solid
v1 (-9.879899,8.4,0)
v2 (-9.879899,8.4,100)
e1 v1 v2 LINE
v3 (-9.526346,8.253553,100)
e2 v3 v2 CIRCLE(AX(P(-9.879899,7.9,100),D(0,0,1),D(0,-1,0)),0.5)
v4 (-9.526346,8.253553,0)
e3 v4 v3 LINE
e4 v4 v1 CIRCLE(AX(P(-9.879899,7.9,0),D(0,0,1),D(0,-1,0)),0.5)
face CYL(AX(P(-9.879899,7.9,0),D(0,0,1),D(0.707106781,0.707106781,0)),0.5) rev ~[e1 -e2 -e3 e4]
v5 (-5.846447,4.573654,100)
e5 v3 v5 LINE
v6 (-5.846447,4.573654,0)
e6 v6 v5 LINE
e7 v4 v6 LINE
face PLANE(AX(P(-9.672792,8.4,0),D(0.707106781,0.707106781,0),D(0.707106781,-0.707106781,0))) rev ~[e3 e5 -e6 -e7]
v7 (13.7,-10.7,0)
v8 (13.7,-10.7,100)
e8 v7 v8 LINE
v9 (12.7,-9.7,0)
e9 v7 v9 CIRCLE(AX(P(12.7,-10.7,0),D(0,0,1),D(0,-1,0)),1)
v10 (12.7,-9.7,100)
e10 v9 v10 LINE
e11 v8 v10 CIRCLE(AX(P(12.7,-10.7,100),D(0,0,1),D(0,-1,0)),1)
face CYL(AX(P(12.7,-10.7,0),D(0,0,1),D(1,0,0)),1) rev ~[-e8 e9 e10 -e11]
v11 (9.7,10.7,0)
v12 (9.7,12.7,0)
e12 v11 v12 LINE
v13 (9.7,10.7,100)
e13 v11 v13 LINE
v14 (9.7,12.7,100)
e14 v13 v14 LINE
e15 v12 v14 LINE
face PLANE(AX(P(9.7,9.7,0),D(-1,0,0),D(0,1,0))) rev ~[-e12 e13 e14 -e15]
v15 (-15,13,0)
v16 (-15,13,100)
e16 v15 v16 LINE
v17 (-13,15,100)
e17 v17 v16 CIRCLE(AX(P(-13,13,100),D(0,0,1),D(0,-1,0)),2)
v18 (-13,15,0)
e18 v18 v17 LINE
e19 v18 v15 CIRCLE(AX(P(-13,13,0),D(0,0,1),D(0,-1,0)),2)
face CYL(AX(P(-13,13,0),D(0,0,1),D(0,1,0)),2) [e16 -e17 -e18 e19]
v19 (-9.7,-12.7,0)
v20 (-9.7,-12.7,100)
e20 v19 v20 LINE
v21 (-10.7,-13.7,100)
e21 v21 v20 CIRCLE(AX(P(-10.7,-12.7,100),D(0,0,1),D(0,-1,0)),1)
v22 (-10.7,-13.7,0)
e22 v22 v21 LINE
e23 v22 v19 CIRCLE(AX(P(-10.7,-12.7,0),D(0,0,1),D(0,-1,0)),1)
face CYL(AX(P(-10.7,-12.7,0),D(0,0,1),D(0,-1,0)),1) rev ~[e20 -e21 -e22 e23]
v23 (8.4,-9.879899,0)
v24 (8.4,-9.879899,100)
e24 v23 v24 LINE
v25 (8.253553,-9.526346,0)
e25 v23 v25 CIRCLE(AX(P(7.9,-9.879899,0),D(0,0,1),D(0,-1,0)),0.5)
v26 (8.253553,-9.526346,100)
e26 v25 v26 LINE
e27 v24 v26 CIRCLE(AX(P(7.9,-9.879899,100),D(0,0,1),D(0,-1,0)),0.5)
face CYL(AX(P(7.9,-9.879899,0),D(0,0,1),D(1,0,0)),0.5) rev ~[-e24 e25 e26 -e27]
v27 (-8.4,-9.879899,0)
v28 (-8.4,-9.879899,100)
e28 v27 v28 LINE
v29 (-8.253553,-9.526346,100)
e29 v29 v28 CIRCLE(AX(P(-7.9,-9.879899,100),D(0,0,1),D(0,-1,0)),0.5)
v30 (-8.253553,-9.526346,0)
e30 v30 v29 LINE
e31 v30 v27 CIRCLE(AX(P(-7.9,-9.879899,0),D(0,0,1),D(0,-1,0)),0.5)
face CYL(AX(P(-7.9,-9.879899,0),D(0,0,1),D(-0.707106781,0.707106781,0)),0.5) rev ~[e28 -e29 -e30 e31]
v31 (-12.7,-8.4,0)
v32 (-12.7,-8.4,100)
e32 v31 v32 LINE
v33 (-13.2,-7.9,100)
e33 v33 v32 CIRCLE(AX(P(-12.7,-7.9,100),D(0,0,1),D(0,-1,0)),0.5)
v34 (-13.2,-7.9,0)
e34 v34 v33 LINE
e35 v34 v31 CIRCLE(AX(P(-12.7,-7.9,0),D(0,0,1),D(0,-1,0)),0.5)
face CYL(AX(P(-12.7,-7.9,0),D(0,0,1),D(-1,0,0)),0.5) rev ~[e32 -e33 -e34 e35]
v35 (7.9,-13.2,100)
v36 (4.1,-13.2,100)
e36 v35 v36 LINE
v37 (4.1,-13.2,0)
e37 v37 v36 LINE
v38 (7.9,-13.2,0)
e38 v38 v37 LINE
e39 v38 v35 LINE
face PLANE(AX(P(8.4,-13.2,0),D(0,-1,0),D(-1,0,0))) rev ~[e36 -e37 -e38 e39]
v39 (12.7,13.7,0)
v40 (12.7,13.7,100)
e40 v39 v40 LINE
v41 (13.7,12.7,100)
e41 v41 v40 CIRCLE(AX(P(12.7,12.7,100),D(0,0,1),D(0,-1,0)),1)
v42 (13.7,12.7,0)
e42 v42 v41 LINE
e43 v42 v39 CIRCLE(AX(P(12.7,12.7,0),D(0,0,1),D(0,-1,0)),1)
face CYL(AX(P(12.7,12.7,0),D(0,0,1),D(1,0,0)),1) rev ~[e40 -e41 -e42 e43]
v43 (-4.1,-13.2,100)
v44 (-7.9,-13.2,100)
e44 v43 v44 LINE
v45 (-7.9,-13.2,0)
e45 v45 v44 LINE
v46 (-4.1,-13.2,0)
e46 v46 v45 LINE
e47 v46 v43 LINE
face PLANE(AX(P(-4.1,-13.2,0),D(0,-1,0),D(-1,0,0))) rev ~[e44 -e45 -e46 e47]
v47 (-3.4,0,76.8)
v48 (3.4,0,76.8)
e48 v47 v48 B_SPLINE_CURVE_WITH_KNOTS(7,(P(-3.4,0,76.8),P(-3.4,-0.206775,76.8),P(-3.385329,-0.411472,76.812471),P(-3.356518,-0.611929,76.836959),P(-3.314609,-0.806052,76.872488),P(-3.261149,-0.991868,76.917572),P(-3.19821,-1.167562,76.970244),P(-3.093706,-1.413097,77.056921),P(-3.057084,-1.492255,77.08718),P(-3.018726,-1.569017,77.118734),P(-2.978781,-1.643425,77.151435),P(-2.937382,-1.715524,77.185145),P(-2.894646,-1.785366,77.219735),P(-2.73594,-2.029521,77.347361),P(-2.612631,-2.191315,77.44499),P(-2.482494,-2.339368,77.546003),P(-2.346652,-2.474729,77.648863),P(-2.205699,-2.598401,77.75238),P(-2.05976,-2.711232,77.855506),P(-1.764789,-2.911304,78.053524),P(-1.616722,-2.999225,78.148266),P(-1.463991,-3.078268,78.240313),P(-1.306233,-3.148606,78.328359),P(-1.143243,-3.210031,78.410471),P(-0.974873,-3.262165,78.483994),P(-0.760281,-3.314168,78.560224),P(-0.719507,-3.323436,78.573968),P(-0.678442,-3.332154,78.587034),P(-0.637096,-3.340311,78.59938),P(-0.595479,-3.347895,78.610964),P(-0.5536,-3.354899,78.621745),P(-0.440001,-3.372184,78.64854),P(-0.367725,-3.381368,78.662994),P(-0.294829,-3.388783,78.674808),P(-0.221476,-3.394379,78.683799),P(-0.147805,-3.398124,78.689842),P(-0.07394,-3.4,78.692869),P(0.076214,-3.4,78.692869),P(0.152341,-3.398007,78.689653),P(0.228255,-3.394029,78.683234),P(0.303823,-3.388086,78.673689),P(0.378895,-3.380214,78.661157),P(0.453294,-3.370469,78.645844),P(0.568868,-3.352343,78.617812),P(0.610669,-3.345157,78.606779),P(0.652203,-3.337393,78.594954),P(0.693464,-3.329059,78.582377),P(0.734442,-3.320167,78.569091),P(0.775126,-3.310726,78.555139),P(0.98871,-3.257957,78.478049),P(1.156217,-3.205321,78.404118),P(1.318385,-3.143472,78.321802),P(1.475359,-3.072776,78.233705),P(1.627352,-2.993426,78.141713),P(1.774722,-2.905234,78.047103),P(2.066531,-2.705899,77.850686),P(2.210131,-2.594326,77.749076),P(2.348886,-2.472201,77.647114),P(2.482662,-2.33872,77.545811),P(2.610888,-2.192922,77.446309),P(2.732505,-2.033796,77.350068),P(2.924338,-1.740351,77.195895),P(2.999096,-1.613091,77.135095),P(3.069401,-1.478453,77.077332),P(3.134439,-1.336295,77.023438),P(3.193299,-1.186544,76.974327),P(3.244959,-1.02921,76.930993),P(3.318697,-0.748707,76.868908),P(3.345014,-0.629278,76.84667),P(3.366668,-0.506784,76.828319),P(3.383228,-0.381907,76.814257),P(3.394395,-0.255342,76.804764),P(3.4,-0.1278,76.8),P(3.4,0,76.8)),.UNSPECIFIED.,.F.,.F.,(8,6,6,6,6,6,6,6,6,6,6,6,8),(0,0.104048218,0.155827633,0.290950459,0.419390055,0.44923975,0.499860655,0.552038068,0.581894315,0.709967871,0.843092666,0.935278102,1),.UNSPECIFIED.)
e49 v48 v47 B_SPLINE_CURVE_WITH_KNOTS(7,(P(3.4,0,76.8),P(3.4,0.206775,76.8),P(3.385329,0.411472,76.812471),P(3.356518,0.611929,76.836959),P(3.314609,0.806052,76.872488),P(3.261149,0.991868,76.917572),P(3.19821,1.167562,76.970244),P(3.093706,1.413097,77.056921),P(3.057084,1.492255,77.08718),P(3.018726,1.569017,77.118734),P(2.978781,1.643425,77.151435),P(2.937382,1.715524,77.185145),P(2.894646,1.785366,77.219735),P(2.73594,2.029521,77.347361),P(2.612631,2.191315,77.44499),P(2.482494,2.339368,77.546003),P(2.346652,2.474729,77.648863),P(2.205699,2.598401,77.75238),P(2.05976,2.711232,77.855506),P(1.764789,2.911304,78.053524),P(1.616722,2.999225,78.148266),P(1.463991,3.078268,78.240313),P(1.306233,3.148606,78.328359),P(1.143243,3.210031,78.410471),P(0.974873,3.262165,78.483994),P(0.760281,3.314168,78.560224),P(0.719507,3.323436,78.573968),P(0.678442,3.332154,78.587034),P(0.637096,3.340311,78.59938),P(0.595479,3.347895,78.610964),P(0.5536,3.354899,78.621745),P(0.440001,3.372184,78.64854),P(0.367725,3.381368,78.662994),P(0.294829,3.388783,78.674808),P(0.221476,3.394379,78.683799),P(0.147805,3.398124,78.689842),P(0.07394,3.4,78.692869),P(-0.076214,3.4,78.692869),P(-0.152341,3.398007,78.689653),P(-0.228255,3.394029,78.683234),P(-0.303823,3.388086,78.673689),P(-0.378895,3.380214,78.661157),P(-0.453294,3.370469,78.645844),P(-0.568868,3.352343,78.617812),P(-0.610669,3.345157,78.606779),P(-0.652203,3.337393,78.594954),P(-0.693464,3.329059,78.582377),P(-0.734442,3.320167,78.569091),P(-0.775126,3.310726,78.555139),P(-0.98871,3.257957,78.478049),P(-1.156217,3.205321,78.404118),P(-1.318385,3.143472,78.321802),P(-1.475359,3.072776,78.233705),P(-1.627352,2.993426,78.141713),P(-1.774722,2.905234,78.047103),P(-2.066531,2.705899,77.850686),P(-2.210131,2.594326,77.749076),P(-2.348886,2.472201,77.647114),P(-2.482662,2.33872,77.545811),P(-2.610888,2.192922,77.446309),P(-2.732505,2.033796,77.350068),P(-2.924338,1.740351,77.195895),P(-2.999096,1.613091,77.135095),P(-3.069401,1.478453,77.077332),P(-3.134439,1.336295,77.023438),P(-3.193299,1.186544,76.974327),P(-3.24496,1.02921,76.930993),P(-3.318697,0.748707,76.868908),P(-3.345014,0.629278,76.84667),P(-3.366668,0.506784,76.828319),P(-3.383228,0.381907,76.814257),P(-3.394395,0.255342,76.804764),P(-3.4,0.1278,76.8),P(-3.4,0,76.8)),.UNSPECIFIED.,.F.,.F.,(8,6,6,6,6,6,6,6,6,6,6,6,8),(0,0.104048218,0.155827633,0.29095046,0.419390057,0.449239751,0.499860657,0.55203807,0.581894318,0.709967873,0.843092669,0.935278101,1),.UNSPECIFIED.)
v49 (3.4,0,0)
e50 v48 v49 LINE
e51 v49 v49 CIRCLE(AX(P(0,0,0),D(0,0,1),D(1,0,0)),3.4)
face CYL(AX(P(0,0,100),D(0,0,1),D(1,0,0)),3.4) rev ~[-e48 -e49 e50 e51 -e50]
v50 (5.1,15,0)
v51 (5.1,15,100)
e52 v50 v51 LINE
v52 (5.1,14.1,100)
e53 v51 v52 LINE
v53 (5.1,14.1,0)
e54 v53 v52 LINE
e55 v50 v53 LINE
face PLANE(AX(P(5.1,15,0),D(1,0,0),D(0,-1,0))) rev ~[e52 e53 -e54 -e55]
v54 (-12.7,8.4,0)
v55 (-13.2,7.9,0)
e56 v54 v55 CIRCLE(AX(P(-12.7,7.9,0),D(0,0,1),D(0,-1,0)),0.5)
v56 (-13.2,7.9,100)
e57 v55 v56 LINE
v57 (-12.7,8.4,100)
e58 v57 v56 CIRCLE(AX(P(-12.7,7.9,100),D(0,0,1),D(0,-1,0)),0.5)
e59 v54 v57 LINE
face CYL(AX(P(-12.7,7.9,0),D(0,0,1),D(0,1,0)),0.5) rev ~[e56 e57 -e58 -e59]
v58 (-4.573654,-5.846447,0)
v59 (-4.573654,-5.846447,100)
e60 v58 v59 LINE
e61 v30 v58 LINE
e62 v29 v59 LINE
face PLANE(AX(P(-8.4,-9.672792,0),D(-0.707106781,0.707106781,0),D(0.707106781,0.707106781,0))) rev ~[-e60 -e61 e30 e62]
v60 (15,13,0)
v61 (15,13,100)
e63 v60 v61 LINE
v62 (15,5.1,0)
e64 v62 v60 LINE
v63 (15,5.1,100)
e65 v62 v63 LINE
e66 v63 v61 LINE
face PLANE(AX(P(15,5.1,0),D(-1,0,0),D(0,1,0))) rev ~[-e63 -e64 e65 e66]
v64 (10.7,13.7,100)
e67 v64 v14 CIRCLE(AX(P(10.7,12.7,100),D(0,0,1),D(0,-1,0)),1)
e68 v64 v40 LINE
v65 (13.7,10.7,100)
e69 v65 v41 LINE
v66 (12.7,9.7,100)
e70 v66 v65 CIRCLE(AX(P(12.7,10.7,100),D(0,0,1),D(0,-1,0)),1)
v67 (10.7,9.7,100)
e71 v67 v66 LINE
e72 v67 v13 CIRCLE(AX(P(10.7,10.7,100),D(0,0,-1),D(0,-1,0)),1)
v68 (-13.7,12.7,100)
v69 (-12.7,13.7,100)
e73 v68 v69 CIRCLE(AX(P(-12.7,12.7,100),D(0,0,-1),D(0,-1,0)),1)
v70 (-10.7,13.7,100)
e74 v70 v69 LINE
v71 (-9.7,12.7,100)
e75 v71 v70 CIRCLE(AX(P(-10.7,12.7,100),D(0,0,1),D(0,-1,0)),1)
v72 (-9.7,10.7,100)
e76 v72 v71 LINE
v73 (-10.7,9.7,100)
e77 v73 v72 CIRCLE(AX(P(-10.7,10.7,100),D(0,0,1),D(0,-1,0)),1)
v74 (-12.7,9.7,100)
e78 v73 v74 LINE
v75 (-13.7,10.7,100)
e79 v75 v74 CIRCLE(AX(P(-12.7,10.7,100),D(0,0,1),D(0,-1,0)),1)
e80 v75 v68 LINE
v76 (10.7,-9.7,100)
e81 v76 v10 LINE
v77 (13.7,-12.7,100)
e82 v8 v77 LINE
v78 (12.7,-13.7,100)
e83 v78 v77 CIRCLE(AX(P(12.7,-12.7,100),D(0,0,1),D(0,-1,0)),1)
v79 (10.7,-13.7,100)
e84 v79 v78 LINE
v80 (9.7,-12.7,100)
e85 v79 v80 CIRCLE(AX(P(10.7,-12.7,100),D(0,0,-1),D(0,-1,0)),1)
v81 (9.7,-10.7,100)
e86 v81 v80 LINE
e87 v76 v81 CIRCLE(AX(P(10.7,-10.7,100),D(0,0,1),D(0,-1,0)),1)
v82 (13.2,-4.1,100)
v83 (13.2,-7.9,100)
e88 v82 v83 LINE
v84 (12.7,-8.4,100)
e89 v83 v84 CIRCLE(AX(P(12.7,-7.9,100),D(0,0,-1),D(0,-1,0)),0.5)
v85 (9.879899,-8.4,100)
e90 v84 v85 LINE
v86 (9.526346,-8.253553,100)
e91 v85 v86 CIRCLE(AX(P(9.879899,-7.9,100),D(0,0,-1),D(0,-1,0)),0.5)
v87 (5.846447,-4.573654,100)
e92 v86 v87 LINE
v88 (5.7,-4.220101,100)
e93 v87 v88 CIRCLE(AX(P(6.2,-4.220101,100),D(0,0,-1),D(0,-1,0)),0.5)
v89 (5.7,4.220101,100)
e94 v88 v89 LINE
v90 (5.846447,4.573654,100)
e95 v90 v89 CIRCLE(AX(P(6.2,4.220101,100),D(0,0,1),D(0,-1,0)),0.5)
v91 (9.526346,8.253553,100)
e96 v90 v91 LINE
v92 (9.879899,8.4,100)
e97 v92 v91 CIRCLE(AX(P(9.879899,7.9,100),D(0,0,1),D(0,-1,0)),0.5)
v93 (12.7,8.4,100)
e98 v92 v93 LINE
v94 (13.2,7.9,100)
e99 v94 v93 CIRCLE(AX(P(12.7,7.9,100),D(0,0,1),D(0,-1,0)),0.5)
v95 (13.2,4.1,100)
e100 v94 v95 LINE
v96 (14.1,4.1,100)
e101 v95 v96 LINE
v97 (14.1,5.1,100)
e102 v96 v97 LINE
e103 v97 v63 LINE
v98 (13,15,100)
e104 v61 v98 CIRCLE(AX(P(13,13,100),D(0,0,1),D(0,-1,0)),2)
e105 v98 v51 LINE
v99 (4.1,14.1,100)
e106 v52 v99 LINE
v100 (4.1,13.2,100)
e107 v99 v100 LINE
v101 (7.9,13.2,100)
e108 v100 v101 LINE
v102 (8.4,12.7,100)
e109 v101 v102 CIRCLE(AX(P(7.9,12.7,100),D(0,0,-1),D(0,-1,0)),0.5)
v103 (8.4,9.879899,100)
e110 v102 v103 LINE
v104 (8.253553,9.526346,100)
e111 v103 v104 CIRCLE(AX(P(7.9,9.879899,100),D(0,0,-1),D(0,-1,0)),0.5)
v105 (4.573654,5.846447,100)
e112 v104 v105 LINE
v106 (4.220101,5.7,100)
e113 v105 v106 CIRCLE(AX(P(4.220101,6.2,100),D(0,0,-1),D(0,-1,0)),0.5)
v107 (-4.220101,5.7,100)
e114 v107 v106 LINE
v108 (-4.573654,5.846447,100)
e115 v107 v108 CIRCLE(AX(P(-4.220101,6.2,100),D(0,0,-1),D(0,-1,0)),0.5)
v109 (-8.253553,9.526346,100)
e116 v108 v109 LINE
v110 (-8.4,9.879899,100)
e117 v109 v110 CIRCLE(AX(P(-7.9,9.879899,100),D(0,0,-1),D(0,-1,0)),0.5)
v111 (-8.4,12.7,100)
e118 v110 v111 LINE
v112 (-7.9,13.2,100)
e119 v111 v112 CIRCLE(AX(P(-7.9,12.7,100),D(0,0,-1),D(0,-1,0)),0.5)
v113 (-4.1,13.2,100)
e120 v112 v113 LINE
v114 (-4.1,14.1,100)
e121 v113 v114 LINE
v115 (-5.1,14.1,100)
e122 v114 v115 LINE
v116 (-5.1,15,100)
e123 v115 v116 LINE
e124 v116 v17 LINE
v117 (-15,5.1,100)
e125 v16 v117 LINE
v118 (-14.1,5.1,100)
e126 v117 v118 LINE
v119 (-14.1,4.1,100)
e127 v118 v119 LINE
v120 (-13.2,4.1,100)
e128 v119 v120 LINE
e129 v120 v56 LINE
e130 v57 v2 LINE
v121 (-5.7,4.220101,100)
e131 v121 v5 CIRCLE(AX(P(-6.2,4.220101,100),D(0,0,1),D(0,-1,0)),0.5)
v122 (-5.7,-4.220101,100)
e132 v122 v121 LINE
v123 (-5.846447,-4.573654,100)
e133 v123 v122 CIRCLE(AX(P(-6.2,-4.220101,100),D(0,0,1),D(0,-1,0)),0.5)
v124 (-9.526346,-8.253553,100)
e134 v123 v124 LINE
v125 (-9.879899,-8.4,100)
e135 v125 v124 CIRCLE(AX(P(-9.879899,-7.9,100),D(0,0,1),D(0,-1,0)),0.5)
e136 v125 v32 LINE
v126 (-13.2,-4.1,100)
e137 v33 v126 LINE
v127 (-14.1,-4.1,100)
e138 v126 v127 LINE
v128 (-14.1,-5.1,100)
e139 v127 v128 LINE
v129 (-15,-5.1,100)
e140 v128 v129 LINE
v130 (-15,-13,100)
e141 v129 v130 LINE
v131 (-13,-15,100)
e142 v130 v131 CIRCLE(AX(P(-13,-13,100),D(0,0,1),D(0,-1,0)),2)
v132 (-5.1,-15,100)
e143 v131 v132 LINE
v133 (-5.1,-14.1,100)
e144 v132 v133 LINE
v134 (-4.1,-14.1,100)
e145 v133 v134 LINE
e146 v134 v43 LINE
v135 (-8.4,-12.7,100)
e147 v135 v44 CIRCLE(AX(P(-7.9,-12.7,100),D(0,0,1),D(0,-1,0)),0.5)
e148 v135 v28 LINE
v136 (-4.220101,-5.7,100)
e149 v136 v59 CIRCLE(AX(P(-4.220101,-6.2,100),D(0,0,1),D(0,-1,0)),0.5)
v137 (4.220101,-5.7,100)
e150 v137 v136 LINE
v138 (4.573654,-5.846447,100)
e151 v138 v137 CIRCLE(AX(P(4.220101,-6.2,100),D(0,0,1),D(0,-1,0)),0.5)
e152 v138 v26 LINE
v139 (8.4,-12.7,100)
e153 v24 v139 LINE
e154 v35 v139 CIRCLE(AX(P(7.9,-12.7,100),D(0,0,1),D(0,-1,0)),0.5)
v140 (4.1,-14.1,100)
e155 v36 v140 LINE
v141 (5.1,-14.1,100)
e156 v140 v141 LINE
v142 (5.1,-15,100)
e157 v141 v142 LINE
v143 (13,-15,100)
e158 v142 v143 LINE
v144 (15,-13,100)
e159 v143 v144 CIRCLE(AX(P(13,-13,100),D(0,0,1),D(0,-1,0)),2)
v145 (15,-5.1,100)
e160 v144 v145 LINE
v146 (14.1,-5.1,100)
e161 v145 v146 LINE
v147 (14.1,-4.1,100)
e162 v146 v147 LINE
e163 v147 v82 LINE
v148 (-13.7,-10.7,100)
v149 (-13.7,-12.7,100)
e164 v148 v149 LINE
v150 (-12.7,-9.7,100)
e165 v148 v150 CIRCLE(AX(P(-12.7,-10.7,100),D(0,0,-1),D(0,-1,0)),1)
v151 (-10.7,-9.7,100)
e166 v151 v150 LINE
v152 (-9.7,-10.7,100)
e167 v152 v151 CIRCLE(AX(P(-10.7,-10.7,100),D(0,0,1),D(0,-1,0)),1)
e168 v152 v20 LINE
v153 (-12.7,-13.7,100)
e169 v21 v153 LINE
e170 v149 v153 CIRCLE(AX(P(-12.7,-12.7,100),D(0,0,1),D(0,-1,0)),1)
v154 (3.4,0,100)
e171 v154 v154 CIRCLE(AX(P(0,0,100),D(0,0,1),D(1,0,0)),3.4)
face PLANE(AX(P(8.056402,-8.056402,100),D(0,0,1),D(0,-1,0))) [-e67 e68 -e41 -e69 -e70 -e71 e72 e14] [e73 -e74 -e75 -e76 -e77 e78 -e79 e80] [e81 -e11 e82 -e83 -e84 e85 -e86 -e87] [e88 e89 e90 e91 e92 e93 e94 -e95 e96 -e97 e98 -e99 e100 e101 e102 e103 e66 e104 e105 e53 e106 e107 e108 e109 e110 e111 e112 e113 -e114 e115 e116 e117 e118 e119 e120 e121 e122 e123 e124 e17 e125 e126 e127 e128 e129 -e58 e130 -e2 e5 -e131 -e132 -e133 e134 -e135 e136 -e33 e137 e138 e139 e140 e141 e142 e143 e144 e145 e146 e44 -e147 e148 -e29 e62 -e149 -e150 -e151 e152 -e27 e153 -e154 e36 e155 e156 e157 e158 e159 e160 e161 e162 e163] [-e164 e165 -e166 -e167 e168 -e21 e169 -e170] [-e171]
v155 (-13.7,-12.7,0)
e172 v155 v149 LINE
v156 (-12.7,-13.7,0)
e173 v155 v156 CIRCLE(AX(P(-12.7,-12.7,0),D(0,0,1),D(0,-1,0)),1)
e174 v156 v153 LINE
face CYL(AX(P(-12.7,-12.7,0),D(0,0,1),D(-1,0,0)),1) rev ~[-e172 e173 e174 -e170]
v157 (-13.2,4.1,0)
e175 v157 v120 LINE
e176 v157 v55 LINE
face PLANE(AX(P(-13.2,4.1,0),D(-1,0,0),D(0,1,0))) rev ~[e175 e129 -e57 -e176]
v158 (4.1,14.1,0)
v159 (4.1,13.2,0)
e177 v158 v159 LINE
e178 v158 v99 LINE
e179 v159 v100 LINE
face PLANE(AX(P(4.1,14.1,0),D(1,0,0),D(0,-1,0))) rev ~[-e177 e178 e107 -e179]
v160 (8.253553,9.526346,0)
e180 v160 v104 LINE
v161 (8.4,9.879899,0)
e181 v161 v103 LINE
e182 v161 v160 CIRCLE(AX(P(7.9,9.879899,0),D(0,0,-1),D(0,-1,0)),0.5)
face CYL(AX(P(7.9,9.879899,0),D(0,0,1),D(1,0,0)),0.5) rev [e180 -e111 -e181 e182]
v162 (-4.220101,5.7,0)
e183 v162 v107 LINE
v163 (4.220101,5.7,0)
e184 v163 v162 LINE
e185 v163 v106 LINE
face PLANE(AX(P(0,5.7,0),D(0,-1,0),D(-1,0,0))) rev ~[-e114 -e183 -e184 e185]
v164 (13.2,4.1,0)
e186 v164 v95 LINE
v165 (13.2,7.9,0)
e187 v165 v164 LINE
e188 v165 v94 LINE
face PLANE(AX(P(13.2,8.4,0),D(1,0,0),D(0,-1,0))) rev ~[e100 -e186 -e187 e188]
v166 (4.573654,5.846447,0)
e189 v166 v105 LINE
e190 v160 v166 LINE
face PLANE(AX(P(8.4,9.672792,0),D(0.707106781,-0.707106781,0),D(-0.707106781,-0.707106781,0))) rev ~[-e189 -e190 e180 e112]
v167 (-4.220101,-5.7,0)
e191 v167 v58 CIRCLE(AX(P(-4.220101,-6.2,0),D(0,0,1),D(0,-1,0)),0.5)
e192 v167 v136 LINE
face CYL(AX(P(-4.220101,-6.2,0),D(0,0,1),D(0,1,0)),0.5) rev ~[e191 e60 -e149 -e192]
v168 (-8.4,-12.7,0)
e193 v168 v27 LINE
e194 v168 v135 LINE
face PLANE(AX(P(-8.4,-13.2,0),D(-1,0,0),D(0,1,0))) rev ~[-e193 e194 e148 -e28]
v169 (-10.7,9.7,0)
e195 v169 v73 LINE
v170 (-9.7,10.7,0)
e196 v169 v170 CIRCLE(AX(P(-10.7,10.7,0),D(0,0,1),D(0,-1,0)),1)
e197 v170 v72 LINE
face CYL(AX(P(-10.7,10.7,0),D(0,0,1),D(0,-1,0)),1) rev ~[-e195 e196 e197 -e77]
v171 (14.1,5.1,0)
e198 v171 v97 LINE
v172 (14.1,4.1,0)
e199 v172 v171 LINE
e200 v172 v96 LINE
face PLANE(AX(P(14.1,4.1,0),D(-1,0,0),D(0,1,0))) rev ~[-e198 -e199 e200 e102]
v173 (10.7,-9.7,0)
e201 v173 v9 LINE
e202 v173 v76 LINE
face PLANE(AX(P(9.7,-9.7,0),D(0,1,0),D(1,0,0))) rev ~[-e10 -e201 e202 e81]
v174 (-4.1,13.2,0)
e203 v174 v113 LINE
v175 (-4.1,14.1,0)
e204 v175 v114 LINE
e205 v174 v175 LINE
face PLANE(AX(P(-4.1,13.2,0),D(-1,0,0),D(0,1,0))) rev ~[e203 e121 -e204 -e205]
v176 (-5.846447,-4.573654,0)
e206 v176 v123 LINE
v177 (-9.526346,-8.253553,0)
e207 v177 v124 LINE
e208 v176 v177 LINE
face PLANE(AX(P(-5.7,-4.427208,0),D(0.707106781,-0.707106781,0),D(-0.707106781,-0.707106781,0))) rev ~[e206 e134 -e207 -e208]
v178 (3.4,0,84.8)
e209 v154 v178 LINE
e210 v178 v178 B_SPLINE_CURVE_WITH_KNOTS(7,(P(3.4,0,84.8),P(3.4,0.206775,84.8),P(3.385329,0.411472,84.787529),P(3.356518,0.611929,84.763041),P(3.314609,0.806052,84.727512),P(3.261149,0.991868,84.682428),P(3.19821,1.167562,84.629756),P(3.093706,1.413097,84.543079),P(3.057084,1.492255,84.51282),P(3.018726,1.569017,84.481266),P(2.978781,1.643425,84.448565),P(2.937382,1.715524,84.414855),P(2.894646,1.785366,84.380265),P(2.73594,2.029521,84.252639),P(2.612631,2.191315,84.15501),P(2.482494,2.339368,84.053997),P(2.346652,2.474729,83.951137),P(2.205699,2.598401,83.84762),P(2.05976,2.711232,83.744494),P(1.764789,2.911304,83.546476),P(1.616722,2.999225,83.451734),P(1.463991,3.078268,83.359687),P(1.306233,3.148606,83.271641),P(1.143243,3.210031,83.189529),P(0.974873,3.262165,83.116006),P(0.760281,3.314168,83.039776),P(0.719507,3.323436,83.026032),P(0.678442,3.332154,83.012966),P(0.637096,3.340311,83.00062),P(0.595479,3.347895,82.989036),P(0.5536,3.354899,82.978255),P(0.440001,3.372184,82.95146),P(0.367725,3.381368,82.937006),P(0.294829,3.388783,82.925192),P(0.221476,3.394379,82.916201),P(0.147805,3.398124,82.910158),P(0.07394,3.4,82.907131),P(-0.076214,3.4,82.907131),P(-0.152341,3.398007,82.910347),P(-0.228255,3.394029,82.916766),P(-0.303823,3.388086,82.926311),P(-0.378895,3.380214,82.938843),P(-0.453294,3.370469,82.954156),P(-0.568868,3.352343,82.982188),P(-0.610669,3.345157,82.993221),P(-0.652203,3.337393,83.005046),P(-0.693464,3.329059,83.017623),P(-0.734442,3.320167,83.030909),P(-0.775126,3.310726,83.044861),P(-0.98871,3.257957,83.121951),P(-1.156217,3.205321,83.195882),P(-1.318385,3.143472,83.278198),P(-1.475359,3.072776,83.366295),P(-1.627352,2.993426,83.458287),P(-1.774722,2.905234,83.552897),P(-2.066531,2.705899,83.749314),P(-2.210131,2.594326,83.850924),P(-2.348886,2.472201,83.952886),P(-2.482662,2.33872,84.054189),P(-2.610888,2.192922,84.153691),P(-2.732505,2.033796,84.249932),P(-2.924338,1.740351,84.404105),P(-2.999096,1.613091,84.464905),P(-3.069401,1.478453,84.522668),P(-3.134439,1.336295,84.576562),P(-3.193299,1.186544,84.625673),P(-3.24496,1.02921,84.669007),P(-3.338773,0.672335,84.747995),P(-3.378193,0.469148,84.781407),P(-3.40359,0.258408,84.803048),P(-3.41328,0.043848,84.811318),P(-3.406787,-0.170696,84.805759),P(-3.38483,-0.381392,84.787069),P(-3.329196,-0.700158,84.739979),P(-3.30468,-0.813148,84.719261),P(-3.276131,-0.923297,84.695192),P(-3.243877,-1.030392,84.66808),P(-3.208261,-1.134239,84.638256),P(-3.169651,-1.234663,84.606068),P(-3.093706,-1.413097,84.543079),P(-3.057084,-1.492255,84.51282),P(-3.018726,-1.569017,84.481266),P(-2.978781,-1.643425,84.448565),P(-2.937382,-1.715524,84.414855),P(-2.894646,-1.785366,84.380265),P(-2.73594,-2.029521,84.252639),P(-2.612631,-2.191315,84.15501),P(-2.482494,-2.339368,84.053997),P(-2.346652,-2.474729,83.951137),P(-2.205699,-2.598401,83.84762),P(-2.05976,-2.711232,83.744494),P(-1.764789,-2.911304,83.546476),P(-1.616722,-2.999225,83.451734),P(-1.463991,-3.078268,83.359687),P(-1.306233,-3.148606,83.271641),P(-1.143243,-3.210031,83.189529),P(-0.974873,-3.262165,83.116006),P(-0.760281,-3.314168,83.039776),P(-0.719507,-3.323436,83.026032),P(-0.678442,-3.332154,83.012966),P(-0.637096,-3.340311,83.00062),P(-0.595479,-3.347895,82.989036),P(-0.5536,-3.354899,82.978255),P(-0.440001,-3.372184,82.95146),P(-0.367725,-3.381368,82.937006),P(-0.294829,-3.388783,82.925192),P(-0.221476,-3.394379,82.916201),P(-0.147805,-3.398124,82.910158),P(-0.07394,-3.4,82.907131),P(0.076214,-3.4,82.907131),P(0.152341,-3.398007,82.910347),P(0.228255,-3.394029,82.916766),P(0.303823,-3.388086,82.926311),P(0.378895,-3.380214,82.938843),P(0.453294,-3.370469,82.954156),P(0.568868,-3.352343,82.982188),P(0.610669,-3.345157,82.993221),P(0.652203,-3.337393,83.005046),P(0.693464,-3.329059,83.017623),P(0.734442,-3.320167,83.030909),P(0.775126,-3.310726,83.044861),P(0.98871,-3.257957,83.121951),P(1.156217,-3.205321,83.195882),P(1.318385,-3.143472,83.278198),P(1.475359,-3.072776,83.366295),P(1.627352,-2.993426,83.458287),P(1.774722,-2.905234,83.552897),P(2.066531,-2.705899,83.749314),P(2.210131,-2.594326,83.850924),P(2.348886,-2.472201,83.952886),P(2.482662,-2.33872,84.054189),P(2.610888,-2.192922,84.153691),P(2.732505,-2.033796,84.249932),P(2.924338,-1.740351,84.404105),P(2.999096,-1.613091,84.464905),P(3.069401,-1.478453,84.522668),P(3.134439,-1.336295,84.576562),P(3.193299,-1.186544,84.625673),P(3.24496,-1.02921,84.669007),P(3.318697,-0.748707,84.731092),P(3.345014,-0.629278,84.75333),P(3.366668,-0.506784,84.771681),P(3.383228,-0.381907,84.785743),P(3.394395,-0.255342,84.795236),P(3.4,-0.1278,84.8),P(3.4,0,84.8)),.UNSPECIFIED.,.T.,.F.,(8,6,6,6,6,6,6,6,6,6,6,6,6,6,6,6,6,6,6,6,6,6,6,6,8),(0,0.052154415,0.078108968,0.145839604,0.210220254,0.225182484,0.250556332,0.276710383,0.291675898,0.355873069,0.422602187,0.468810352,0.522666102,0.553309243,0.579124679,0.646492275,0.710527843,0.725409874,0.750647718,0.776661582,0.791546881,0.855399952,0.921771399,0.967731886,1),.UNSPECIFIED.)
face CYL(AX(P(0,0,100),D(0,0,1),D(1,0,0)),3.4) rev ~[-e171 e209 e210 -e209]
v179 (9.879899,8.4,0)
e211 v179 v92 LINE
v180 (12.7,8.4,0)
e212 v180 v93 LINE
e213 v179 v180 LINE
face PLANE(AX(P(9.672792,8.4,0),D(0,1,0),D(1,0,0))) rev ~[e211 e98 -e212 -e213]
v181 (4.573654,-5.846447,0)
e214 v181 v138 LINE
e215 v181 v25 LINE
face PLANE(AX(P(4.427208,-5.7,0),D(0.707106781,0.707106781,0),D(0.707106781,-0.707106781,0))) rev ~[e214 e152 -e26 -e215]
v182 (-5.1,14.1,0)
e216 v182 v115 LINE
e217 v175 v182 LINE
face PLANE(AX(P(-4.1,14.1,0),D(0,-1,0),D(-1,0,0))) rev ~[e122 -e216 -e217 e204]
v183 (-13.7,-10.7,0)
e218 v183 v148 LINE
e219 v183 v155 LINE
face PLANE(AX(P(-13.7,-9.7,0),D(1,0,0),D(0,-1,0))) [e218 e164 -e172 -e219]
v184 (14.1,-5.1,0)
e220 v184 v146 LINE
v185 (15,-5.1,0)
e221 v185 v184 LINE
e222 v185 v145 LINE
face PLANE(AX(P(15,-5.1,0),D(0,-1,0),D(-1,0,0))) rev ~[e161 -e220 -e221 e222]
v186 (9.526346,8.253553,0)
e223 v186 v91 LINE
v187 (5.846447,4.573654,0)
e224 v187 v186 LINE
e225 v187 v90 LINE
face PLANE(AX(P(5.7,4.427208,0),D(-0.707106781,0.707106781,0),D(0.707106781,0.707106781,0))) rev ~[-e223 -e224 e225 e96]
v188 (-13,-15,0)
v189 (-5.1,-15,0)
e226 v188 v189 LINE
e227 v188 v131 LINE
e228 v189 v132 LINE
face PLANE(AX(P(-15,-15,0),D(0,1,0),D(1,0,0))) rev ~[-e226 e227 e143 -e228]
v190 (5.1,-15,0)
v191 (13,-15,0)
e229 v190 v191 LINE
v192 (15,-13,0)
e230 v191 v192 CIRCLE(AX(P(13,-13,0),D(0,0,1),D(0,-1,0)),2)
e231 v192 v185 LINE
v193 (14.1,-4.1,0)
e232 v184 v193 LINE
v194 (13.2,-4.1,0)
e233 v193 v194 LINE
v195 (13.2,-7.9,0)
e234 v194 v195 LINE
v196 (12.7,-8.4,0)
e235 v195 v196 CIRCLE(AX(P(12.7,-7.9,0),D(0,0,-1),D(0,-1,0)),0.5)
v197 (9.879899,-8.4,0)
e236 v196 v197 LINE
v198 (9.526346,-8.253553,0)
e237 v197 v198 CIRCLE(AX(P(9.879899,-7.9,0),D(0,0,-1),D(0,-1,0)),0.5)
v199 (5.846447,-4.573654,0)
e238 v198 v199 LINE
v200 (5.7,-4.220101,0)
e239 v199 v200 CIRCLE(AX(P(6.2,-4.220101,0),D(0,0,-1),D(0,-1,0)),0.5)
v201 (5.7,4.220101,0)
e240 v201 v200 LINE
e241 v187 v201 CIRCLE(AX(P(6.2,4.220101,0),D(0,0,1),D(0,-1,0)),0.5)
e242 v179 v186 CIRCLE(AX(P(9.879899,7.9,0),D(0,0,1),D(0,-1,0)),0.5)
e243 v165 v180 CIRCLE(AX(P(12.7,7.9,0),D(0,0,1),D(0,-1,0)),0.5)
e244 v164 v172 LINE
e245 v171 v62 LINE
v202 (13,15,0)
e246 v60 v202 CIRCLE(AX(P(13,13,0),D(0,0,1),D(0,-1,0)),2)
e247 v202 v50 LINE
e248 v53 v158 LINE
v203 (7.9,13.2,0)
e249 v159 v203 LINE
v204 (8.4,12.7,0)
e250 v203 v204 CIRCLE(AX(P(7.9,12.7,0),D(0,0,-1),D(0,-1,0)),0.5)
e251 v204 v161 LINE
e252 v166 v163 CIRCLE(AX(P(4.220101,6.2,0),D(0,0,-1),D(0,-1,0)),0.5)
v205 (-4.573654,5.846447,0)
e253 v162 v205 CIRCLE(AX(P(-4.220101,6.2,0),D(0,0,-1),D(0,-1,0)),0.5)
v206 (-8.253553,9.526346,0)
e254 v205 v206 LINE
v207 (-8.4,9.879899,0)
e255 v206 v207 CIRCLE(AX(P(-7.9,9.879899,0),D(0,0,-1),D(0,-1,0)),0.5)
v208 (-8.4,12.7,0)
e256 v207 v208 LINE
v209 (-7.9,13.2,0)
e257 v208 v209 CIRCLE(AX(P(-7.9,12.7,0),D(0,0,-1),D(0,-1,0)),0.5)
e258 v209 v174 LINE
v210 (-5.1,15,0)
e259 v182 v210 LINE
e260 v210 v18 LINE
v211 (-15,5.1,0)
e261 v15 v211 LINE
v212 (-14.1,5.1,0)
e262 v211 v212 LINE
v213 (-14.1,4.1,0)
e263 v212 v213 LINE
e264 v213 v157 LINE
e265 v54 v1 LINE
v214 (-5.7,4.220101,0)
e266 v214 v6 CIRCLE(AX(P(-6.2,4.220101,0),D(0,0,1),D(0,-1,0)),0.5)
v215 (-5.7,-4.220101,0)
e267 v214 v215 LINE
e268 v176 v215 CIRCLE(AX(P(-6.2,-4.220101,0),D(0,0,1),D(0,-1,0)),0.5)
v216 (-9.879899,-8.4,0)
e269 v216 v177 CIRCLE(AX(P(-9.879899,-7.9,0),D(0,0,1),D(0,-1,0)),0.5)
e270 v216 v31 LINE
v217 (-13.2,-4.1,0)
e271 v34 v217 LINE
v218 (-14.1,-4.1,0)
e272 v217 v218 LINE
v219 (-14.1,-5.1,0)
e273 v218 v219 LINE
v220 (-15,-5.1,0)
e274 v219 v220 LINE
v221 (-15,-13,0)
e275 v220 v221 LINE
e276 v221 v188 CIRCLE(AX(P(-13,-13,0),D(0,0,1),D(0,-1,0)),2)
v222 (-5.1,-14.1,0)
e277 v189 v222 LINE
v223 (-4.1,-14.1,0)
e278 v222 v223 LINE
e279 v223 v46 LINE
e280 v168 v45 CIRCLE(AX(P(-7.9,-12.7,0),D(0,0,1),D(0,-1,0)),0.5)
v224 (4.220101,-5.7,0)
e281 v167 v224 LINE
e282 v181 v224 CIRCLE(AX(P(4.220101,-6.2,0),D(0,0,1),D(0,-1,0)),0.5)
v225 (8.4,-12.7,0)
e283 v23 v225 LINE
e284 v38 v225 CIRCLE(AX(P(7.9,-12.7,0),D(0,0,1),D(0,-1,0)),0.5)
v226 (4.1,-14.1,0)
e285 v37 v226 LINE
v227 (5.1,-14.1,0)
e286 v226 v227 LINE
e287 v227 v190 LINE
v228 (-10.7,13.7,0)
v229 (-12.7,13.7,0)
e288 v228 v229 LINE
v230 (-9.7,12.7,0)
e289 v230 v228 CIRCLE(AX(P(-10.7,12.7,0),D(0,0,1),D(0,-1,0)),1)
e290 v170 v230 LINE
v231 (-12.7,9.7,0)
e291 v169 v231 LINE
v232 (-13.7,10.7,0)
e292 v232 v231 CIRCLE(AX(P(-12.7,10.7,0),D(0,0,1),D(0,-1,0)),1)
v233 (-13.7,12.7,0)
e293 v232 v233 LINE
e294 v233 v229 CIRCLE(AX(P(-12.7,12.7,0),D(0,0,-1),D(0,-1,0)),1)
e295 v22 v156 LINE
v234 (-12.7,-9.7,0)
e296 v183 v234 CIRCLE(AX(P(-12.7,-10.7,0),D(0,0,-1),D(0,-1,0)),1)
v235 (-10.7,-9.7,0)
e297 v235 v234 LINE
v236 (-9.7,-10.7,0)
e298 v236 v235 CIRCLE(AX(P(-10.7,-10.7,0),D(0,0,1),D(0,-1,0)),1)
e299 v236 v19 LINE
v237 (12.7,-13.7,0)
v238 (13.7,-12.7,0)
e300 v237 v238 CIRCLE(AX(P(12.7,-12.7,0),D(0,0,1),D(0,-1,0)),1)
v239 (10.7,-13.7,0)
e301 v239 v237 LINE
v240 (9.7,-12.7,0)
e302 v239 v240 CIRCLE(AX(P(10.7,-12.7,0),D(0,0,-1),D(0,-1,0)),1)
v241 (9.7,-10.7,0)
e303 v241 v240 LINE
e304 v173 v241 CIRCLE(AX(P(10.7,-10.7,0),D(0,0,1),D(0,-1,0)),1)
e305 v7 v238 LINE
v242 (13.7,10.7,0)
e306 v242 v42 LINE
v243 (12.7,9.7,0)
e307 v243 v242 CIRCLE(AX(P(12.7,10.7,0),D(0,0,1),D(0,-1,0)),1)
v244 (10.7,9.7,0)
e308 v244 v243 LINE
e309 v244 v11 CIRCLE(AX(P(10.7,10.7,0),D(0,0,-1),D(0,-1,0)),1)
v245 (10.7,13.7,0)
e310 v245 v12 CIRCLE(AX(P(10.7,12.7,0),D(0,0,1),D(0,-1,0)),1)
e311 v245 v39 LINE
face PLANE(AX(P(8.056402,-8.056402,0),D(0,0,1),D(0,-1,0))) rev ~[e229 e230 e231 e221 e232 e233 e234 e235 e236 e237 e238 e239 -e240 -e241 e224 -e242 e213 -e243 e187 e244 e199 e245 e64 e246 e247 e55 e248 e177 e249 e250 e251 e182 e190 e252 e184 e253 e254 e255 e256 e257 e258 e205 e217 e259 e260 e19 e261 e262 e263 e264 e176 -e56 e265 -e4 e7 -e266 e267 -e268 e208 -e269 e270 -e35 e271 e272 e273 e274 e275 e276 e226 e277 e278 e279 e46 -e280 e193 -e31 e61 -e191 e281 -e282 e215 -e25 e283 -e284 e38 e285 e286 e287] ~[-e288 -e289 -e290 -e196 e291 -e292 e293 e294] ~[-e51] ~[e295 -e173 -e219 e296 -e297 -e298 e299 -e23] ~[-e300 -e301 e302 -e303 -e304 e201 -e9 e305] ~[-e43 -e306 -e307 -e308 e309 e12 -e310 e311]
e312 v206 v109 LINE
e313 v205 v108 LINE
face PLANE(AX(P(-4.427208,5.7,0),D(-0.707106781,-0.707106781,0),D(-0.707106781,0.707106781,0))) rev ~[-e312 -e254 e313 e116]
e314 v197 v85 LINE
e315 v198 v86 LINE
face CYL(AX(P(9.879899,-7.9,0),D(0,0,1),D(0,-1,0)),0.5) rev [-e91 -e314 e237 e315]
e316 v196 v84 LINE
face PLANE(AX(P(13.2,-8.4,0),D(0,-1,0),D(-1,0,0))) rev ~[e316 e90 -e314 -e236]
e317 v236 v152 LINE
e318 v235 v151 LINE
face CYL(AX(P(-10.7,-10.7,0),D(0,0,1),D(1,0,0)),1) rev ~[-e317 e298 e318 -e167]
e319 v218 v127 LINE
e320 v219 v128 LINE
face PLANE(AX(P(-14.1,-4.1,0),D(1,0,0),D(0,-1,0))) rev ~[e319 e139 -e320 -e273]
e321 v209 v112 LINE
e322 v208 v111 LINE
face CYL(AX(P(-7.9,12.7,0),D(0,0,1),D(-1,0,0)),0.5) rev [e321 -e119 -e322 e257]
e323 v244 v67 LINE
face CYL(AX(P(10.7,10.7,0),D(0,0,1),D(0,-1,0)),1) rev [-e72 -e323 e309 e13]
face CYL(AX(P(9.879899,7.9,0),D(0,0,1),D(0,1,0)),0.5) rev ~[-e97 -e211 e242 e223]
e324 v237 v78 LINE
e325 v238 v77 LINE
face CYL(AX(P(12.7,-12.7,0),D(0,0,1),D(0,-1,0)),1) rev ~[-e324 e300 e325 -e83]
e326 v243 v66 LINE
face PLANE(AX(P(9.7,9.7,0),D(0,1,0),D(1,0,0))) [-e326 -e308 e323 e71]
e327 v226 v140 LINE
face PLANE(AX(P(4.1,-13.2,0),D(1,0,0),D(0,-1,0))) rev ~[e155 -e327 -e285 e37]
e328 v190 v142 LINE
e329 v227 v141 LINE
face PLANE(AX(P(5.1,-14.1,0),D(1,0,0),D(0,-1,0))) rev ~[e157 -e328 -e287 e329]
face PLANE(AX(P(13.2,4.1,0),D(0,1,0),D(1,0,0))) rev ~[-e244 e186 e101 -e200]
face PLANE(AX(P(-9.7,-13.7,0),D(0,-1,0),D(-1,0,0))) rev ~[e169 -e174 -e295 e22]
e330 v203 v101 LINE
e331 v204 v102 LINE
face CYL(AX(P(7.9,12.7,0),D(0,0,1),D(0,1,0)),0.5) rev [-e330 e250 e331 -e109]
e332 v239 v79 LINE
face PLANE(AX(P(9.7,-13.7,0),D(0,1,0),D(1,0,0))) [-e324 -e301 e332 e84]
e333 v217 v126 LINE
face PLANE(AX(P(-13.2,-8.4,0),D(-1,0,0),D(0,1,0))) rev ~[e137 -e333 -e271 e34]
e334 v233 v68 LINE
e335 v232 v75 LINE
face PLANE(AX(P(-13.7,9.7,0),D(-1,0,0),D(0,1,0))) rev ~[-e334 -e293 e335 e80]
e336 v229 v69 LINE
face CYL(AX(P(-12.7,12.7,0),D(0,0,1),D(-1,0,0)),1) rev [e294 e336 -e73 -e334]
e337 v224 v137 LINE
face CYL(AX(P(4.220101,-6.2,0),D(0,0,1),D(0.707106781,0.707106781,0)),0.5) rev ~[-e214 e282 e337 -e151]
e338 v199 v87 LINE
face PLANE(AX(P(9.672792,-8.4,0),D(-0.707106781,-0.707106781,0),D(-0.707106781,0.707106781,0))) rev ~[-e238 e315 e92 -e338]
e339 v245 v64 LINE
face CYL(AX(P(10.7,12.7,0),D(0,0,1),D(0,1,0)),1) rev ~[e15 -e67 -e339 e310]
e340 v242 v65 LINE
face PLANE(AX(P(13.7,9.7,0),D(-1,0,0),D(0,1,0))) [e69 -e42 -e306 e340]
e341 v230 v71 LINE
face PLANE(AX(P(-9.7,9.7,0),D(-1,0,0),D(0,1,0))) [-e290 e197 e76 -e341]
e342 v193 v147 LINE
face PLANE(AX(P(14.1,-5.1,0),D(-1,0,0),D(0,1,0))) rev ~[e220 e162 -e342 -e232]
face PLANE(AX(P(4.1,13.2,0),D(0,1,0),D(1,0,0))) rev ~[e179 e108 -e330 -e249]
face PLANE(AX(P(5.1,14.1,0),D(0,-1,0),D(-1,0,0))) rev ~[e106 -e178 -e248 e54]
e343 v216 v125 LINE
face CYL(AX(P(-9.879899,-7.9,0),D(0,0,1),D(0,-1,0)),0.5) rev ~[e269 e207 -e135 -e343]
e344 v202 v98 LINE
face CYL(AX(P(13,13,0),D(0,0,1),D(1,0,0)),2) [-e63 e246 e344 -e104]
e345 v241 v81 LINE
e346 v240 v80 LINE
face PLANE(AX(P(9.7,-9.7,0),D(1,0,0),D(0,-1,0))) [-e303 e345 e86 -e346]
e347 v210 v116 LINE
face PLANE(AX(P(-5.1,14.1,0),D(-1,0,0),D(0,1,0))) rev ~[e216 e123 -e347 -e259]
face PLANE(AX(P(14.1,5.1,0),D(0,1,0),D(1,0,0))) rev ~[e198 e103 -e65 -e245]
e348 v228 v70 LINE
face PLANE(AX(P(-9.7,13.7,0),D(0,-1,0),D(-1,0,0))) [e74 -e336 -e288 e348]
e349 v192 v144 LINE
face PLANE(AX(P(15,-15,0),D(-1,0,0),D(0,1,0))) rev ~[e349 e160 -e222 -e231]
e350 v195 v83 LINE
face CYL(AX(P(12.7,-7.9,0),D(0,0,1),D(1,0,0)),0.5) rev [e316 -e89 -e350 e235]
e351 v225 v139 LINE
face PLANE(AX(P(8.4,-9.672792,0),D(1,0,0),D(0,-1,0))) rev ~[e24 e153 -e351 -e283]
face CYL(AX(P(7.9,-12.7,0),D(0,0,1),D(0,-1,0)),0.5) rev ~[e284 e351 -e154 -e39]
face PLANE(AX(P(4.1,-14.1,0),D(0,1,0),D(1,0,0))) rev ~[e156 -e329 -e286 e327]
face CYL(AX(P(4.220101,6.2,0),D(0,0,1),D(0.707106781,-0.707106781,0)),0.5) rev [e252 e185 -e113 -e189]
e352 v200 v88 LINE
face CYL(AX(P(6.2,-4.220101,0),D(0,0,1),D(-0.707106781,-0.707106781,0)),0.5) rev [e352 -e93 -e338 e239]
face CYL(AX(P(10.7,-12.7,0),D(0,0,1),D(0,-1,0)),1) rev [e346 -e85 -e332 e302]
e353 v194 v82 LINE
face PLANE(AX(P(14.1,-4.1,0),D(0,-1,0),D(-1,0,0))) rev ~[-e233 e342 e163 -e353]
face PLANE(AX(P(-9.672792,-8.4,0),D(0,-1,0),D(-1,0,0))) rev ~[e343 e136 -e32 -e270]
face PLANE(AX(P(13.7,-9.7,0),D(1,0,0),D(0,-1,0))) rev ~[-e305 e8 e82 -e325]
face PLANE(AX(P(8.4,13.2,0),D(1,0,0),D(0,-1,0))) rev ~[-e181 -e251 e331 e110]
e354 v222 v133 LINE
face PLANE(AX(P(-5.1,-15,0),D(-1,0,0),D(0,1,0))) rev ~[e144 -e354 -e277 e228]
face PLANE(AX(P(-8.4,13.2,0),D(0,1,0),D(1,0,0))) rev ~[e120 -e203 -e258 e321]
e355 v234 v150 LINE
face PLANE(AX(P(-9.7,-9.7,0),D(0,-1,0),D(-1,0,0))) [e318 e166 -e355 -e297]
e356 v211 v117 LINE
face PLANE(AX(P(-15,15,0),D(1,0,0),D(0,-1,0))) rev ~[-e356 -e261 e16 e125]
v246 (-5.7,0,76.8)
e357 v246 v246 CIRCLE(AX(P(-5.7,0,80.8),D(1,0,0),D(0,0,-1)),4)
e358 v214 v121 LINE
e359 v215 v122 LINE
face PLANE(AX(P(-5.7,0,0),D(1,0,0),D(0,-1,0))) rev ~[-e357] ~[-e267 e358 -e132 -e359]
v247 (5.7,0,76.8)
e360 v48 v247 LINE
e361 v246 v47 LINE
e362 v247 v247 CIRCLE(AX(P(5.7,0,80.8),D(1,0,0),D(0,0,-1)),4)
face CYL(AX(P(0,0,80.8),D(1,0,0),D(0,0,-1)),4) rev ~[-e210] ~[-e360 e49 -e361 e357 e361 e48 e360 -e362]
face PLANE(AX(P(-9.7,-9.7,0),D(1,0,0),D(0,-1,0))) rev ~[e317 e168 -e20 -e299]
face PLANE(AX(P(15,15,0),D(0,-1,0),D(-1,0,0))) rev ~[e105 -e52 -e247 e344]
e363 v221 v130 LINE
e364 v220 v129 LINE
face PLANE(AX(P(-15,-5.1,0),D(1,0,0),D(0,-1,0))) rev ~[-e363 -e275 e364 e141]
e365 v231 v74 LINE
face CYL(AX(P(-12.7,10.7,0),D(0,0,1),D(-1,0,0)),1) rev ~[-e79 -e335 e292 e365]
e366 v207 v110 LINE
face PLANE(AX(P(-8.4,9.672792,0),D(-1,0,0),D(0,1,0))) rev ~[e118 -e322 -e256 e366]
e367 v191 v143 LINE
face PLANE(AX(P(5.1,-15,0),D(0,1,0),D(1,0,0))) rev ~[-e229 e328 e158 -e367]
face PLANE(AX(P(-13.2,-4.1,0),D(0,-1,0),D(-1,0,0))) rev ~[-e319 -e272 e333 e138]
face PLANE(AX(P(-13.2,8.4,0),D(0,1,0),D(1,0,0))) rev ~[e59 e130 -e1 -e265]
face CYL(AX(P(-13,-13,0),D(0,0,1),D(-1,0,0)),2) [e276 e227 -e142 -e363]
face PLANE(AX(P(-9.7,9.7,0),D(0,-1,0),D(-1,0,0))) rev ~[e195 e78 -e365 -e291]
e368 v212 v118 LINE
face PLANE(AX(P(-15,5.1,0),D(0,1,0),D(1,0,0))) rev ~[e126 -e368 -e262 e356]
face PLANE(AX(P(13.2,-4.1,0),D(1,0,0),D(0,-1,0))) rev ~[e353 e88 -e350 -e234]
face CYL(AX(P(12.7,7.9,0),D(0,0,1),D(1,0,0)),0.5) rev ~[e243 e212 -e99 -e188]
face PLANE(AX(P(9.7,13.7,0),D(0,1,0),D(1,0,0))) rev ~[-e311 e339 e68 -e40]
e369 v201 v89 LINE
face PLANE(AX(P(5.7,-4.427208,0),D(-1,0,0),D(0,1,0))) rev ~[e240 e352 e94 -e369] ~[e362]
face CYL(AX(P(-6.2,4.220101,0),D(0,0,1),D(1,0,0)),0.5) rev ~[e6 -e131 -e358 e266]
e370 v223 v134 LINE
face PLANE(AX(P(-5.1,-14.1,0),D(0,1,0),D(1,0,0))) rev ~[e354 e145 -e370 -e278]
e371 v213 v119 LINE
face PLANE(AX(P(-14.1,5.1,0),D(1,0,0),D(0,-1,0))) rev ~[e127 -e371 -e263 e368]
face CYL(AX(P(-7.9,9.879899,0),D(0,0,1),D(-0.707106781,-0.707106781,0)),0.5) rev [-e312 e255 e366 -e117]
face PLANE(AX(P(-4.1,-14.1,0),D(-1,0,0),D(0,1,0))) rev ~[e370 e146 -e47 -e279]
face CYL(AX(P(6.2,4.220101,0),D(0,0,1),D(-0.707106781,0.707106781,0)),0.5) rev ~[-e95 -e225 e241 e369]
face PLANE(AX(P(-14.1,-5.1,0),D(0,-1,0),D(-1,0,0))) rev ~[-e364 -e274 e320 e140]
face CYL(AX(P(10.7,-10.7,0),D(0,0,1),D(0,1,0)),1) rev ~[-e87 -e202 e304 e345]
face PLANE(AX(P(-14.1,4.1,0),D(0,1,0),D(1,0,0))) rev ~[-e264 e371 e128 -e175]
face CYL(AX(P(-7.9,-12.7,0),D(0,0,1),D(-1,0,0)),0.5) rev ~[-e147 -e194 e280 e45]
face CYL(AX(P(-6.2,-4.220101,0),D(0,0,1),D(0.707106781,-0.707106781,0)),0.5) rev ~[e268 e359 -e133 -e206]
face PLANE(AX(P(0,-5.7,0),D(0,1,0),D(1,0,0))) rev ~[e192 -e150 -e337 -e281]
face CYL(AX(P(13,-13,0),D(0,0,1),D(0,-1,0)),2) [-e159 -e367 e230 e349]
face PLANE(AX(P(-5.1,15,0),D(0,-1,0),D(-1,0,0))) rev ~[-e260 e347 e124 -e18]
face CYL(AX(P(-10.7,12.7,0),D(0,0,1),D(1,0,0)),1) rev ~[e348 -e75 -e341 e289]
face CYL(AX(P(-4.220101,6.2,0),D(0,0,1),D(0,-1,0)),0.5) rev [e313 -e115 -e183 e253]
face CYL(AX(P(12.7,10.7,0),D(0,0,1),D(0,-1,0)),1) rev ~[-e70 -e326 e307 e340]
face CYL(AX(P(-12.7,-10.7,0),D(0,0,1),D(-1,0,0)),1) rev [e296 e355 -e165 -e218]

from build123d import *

# Parameters (mm, degrees)
SKETCH_1_W                       = 4
SKETCH_1_H                       = 4
EXTRUDE_1_DEPTH                  = 100
FILLET_1_R                       = 1
FILLET_2_R                       = 2
FILLET_3_R                       = 0.5
PATTERN_CIRCULAR_1_COUNT         = 4
FILLET_1_OF_PATTERN_CIRCULAR_1_R = 1
FILLET_2_OF_PATTERN_CIRCULAR_1_R = 2
FILLET_3_OF_PATTERN_CIRCULAR_1_R = 0.5
SKETCH_2_R                       = 3.4
CUT_EXTRUDE_1_DEPTH              = 101
SKETCH_3_R                       = 4
CUT_EXTRUDE_2_DEPTH              = 15


with BuildPart() as part:
    # 草图1 → 凸台-拉伸1 (new body)
    with BuildSketch(Plane.XY):
        Polygon((5.7, 0), (5.7, 4.427207794), (9.672792206, 8.4), (13.2, 8.4), (13.2, 4.1), (14.1, 4.1), (14.1, 5.1), (15, 5.1), (15, 15), (5.1, 15), (5.1, 14.1), (4.1, 14.1), (4.1, 13.2), (8.4, 13.2), (8.4, 9.672792206), (4.427207794, 5.7), (0, 5.7), (0, 0), align=None)
        with Locations((11.7, 11.7)):
            Rectangle(SKETCH_1_W, SKETCH_1_H, mode=Mode.SUBTRACT)
    extrude_1 = extrude(amount=EXTRUDE_1_DEPTH)

    # 圆角1
    fillet_1_edges = [part.edges().sort_by_distance(p)[0] for p in [
        (13.7, 9.7, 50),
        (13.7, 13.7, 50),
        (9.7, 13.7, 50),
        (9.7, 9.7, 50),
    ]]
    fillet(fillet_1_edges, radius=FILLET_1_R)

    # 圆角2
    fillet_2_edges = [part.edges().sort_by_distance(p)[0] for p in [
        (15, 15, 50),
    ]]
    fillet(fillet_2_edges, radius=FILLET_2_R)

    # 圆角3
    fillet_3_edges = [part.edges().sort_by_distance(p)[0] for p in [
        (4.427207794, 5.7, 50),
        (8.4, 9.672792206, 50),
        (8.4, 13.2, 50),
        (13.2, 8.4, 50),
        (9.672792206, 8.4, 50),
        (5.7, 4.427207794, 50),
    ]]
    fillet(fillet_3_edges, radius=FILLET_3_R)

    # 阵列(圆周)1: 凸台-拉伸1 ×4 about axis
    pattern_circular_1_axis = Axis((0, 0, 0), (0, 0, 1))
    for i in range(1, PATTERN_CIRCULAR_1_COUNT):
        add(extrude_1.rotate(pattern_circular_1_axis, i * 360 / PATTERN_CIRCULAR_1_COUNT))

    # 圆角1 of 阵列(圆周)1
    fillet_1_of_pattern_circular_1_edges = [part.edges().sort_by_distance(p)[0] for p in [
        (-9.7, 13.7, 50),
        (-13.7, 13.7, 50),
        (-13.7, 9.7, 50),
        (-9.7, 9.7, 50),
        (-13.7, -9.7, 50),
        (-13.7, -13.7, 50),
        (-9.7, -13.7, 50),
        (-9.7, -9.7, 50),
        (9.7, -13.7, 50),
        (13.7, -13.7, 50),
        (13.7, -9.7, 50),
        (9.7, -9.7, 50),
    ]]
    fillet(fillet_1_of_pattern_circular_1_edges, radius=FILLET_1_OF_PATTERN_CIRCULAR_1_R)

    # 圆角2 of 阵列(圆周)1
    fillet_2_of_pattern_circular_1_edges = [part.edges().sort_by_distance(p)[0] for p in [
        (-15, 15, 50),
        (-15, -15, 50),
        (15, -15, 50),
    ]]
    fillet(fillet_2_of_pattern_circular_1_edges, radius=FILLET_2_OF_PATTERN_CIRCULAR_1_R)

    # 圆角3 of 阵列(圆周)1
    fillet_3_of_pattern_circular_1_edges = [part.edges().sort_by_distance(p)[0] for p in [
        (-5.7, 4.427207794, 50),
        (-9.672792206, 8.4, 50),
        (-13.2, 8.4, 50),
        (-8.4, 13.2, 50),
        (-8.4, 9.672792206, 50),
        (-4.427207794, 5.7, 50),
        (-4.427207794, -5.7, 50),
        (-8.4, -9.672792206, 50),
        (-8.4, -13.2, 50),
        (-13.2, -8.4, 50),
        (-9.672792206, -8.4, 50),
        (-5.7, -4.427207794, 50),
        (5.7, -4.427207794, 50),
        (9.672792206, -8.4, 50),
        (13.2, -8.4, 50),
        (8.4, -13.2, 50),
        (8.4, -9.672792206, 50),
        (4.427207794, -5.7, 50),
    ]]
    fillet(fillet_3_of_pattern_circular_1_edges, radius=FILLET_3_OF_PATTERN_CIRCULAR_1_R)

    # 草图2 → 切除-拉伸1 (cut, through all)
    with BuildSketch(Plane.XY.offset(100)):
        Circle(SKETCH_2_R)
    extrude(amount=-CUT_EXTRUDE_1_DEPTH, mode=Mode.SUBTRACT)

    # 草图3 → 切除-拉伸2 (cut, symmetric)
    with BuildSketch(Plane(origin=(0, 0, 0), x_dir=(0, 0, -1), z_dir=(1, 0, 0))):
        with Locations((-80.8, 0)):
            Circle(SKETCH_3_R)
    extrude(amount=CUT_EXTRUDE_2_DEPTH, both=True, mode=Mode.SUBTRACT)


solid = part.part
